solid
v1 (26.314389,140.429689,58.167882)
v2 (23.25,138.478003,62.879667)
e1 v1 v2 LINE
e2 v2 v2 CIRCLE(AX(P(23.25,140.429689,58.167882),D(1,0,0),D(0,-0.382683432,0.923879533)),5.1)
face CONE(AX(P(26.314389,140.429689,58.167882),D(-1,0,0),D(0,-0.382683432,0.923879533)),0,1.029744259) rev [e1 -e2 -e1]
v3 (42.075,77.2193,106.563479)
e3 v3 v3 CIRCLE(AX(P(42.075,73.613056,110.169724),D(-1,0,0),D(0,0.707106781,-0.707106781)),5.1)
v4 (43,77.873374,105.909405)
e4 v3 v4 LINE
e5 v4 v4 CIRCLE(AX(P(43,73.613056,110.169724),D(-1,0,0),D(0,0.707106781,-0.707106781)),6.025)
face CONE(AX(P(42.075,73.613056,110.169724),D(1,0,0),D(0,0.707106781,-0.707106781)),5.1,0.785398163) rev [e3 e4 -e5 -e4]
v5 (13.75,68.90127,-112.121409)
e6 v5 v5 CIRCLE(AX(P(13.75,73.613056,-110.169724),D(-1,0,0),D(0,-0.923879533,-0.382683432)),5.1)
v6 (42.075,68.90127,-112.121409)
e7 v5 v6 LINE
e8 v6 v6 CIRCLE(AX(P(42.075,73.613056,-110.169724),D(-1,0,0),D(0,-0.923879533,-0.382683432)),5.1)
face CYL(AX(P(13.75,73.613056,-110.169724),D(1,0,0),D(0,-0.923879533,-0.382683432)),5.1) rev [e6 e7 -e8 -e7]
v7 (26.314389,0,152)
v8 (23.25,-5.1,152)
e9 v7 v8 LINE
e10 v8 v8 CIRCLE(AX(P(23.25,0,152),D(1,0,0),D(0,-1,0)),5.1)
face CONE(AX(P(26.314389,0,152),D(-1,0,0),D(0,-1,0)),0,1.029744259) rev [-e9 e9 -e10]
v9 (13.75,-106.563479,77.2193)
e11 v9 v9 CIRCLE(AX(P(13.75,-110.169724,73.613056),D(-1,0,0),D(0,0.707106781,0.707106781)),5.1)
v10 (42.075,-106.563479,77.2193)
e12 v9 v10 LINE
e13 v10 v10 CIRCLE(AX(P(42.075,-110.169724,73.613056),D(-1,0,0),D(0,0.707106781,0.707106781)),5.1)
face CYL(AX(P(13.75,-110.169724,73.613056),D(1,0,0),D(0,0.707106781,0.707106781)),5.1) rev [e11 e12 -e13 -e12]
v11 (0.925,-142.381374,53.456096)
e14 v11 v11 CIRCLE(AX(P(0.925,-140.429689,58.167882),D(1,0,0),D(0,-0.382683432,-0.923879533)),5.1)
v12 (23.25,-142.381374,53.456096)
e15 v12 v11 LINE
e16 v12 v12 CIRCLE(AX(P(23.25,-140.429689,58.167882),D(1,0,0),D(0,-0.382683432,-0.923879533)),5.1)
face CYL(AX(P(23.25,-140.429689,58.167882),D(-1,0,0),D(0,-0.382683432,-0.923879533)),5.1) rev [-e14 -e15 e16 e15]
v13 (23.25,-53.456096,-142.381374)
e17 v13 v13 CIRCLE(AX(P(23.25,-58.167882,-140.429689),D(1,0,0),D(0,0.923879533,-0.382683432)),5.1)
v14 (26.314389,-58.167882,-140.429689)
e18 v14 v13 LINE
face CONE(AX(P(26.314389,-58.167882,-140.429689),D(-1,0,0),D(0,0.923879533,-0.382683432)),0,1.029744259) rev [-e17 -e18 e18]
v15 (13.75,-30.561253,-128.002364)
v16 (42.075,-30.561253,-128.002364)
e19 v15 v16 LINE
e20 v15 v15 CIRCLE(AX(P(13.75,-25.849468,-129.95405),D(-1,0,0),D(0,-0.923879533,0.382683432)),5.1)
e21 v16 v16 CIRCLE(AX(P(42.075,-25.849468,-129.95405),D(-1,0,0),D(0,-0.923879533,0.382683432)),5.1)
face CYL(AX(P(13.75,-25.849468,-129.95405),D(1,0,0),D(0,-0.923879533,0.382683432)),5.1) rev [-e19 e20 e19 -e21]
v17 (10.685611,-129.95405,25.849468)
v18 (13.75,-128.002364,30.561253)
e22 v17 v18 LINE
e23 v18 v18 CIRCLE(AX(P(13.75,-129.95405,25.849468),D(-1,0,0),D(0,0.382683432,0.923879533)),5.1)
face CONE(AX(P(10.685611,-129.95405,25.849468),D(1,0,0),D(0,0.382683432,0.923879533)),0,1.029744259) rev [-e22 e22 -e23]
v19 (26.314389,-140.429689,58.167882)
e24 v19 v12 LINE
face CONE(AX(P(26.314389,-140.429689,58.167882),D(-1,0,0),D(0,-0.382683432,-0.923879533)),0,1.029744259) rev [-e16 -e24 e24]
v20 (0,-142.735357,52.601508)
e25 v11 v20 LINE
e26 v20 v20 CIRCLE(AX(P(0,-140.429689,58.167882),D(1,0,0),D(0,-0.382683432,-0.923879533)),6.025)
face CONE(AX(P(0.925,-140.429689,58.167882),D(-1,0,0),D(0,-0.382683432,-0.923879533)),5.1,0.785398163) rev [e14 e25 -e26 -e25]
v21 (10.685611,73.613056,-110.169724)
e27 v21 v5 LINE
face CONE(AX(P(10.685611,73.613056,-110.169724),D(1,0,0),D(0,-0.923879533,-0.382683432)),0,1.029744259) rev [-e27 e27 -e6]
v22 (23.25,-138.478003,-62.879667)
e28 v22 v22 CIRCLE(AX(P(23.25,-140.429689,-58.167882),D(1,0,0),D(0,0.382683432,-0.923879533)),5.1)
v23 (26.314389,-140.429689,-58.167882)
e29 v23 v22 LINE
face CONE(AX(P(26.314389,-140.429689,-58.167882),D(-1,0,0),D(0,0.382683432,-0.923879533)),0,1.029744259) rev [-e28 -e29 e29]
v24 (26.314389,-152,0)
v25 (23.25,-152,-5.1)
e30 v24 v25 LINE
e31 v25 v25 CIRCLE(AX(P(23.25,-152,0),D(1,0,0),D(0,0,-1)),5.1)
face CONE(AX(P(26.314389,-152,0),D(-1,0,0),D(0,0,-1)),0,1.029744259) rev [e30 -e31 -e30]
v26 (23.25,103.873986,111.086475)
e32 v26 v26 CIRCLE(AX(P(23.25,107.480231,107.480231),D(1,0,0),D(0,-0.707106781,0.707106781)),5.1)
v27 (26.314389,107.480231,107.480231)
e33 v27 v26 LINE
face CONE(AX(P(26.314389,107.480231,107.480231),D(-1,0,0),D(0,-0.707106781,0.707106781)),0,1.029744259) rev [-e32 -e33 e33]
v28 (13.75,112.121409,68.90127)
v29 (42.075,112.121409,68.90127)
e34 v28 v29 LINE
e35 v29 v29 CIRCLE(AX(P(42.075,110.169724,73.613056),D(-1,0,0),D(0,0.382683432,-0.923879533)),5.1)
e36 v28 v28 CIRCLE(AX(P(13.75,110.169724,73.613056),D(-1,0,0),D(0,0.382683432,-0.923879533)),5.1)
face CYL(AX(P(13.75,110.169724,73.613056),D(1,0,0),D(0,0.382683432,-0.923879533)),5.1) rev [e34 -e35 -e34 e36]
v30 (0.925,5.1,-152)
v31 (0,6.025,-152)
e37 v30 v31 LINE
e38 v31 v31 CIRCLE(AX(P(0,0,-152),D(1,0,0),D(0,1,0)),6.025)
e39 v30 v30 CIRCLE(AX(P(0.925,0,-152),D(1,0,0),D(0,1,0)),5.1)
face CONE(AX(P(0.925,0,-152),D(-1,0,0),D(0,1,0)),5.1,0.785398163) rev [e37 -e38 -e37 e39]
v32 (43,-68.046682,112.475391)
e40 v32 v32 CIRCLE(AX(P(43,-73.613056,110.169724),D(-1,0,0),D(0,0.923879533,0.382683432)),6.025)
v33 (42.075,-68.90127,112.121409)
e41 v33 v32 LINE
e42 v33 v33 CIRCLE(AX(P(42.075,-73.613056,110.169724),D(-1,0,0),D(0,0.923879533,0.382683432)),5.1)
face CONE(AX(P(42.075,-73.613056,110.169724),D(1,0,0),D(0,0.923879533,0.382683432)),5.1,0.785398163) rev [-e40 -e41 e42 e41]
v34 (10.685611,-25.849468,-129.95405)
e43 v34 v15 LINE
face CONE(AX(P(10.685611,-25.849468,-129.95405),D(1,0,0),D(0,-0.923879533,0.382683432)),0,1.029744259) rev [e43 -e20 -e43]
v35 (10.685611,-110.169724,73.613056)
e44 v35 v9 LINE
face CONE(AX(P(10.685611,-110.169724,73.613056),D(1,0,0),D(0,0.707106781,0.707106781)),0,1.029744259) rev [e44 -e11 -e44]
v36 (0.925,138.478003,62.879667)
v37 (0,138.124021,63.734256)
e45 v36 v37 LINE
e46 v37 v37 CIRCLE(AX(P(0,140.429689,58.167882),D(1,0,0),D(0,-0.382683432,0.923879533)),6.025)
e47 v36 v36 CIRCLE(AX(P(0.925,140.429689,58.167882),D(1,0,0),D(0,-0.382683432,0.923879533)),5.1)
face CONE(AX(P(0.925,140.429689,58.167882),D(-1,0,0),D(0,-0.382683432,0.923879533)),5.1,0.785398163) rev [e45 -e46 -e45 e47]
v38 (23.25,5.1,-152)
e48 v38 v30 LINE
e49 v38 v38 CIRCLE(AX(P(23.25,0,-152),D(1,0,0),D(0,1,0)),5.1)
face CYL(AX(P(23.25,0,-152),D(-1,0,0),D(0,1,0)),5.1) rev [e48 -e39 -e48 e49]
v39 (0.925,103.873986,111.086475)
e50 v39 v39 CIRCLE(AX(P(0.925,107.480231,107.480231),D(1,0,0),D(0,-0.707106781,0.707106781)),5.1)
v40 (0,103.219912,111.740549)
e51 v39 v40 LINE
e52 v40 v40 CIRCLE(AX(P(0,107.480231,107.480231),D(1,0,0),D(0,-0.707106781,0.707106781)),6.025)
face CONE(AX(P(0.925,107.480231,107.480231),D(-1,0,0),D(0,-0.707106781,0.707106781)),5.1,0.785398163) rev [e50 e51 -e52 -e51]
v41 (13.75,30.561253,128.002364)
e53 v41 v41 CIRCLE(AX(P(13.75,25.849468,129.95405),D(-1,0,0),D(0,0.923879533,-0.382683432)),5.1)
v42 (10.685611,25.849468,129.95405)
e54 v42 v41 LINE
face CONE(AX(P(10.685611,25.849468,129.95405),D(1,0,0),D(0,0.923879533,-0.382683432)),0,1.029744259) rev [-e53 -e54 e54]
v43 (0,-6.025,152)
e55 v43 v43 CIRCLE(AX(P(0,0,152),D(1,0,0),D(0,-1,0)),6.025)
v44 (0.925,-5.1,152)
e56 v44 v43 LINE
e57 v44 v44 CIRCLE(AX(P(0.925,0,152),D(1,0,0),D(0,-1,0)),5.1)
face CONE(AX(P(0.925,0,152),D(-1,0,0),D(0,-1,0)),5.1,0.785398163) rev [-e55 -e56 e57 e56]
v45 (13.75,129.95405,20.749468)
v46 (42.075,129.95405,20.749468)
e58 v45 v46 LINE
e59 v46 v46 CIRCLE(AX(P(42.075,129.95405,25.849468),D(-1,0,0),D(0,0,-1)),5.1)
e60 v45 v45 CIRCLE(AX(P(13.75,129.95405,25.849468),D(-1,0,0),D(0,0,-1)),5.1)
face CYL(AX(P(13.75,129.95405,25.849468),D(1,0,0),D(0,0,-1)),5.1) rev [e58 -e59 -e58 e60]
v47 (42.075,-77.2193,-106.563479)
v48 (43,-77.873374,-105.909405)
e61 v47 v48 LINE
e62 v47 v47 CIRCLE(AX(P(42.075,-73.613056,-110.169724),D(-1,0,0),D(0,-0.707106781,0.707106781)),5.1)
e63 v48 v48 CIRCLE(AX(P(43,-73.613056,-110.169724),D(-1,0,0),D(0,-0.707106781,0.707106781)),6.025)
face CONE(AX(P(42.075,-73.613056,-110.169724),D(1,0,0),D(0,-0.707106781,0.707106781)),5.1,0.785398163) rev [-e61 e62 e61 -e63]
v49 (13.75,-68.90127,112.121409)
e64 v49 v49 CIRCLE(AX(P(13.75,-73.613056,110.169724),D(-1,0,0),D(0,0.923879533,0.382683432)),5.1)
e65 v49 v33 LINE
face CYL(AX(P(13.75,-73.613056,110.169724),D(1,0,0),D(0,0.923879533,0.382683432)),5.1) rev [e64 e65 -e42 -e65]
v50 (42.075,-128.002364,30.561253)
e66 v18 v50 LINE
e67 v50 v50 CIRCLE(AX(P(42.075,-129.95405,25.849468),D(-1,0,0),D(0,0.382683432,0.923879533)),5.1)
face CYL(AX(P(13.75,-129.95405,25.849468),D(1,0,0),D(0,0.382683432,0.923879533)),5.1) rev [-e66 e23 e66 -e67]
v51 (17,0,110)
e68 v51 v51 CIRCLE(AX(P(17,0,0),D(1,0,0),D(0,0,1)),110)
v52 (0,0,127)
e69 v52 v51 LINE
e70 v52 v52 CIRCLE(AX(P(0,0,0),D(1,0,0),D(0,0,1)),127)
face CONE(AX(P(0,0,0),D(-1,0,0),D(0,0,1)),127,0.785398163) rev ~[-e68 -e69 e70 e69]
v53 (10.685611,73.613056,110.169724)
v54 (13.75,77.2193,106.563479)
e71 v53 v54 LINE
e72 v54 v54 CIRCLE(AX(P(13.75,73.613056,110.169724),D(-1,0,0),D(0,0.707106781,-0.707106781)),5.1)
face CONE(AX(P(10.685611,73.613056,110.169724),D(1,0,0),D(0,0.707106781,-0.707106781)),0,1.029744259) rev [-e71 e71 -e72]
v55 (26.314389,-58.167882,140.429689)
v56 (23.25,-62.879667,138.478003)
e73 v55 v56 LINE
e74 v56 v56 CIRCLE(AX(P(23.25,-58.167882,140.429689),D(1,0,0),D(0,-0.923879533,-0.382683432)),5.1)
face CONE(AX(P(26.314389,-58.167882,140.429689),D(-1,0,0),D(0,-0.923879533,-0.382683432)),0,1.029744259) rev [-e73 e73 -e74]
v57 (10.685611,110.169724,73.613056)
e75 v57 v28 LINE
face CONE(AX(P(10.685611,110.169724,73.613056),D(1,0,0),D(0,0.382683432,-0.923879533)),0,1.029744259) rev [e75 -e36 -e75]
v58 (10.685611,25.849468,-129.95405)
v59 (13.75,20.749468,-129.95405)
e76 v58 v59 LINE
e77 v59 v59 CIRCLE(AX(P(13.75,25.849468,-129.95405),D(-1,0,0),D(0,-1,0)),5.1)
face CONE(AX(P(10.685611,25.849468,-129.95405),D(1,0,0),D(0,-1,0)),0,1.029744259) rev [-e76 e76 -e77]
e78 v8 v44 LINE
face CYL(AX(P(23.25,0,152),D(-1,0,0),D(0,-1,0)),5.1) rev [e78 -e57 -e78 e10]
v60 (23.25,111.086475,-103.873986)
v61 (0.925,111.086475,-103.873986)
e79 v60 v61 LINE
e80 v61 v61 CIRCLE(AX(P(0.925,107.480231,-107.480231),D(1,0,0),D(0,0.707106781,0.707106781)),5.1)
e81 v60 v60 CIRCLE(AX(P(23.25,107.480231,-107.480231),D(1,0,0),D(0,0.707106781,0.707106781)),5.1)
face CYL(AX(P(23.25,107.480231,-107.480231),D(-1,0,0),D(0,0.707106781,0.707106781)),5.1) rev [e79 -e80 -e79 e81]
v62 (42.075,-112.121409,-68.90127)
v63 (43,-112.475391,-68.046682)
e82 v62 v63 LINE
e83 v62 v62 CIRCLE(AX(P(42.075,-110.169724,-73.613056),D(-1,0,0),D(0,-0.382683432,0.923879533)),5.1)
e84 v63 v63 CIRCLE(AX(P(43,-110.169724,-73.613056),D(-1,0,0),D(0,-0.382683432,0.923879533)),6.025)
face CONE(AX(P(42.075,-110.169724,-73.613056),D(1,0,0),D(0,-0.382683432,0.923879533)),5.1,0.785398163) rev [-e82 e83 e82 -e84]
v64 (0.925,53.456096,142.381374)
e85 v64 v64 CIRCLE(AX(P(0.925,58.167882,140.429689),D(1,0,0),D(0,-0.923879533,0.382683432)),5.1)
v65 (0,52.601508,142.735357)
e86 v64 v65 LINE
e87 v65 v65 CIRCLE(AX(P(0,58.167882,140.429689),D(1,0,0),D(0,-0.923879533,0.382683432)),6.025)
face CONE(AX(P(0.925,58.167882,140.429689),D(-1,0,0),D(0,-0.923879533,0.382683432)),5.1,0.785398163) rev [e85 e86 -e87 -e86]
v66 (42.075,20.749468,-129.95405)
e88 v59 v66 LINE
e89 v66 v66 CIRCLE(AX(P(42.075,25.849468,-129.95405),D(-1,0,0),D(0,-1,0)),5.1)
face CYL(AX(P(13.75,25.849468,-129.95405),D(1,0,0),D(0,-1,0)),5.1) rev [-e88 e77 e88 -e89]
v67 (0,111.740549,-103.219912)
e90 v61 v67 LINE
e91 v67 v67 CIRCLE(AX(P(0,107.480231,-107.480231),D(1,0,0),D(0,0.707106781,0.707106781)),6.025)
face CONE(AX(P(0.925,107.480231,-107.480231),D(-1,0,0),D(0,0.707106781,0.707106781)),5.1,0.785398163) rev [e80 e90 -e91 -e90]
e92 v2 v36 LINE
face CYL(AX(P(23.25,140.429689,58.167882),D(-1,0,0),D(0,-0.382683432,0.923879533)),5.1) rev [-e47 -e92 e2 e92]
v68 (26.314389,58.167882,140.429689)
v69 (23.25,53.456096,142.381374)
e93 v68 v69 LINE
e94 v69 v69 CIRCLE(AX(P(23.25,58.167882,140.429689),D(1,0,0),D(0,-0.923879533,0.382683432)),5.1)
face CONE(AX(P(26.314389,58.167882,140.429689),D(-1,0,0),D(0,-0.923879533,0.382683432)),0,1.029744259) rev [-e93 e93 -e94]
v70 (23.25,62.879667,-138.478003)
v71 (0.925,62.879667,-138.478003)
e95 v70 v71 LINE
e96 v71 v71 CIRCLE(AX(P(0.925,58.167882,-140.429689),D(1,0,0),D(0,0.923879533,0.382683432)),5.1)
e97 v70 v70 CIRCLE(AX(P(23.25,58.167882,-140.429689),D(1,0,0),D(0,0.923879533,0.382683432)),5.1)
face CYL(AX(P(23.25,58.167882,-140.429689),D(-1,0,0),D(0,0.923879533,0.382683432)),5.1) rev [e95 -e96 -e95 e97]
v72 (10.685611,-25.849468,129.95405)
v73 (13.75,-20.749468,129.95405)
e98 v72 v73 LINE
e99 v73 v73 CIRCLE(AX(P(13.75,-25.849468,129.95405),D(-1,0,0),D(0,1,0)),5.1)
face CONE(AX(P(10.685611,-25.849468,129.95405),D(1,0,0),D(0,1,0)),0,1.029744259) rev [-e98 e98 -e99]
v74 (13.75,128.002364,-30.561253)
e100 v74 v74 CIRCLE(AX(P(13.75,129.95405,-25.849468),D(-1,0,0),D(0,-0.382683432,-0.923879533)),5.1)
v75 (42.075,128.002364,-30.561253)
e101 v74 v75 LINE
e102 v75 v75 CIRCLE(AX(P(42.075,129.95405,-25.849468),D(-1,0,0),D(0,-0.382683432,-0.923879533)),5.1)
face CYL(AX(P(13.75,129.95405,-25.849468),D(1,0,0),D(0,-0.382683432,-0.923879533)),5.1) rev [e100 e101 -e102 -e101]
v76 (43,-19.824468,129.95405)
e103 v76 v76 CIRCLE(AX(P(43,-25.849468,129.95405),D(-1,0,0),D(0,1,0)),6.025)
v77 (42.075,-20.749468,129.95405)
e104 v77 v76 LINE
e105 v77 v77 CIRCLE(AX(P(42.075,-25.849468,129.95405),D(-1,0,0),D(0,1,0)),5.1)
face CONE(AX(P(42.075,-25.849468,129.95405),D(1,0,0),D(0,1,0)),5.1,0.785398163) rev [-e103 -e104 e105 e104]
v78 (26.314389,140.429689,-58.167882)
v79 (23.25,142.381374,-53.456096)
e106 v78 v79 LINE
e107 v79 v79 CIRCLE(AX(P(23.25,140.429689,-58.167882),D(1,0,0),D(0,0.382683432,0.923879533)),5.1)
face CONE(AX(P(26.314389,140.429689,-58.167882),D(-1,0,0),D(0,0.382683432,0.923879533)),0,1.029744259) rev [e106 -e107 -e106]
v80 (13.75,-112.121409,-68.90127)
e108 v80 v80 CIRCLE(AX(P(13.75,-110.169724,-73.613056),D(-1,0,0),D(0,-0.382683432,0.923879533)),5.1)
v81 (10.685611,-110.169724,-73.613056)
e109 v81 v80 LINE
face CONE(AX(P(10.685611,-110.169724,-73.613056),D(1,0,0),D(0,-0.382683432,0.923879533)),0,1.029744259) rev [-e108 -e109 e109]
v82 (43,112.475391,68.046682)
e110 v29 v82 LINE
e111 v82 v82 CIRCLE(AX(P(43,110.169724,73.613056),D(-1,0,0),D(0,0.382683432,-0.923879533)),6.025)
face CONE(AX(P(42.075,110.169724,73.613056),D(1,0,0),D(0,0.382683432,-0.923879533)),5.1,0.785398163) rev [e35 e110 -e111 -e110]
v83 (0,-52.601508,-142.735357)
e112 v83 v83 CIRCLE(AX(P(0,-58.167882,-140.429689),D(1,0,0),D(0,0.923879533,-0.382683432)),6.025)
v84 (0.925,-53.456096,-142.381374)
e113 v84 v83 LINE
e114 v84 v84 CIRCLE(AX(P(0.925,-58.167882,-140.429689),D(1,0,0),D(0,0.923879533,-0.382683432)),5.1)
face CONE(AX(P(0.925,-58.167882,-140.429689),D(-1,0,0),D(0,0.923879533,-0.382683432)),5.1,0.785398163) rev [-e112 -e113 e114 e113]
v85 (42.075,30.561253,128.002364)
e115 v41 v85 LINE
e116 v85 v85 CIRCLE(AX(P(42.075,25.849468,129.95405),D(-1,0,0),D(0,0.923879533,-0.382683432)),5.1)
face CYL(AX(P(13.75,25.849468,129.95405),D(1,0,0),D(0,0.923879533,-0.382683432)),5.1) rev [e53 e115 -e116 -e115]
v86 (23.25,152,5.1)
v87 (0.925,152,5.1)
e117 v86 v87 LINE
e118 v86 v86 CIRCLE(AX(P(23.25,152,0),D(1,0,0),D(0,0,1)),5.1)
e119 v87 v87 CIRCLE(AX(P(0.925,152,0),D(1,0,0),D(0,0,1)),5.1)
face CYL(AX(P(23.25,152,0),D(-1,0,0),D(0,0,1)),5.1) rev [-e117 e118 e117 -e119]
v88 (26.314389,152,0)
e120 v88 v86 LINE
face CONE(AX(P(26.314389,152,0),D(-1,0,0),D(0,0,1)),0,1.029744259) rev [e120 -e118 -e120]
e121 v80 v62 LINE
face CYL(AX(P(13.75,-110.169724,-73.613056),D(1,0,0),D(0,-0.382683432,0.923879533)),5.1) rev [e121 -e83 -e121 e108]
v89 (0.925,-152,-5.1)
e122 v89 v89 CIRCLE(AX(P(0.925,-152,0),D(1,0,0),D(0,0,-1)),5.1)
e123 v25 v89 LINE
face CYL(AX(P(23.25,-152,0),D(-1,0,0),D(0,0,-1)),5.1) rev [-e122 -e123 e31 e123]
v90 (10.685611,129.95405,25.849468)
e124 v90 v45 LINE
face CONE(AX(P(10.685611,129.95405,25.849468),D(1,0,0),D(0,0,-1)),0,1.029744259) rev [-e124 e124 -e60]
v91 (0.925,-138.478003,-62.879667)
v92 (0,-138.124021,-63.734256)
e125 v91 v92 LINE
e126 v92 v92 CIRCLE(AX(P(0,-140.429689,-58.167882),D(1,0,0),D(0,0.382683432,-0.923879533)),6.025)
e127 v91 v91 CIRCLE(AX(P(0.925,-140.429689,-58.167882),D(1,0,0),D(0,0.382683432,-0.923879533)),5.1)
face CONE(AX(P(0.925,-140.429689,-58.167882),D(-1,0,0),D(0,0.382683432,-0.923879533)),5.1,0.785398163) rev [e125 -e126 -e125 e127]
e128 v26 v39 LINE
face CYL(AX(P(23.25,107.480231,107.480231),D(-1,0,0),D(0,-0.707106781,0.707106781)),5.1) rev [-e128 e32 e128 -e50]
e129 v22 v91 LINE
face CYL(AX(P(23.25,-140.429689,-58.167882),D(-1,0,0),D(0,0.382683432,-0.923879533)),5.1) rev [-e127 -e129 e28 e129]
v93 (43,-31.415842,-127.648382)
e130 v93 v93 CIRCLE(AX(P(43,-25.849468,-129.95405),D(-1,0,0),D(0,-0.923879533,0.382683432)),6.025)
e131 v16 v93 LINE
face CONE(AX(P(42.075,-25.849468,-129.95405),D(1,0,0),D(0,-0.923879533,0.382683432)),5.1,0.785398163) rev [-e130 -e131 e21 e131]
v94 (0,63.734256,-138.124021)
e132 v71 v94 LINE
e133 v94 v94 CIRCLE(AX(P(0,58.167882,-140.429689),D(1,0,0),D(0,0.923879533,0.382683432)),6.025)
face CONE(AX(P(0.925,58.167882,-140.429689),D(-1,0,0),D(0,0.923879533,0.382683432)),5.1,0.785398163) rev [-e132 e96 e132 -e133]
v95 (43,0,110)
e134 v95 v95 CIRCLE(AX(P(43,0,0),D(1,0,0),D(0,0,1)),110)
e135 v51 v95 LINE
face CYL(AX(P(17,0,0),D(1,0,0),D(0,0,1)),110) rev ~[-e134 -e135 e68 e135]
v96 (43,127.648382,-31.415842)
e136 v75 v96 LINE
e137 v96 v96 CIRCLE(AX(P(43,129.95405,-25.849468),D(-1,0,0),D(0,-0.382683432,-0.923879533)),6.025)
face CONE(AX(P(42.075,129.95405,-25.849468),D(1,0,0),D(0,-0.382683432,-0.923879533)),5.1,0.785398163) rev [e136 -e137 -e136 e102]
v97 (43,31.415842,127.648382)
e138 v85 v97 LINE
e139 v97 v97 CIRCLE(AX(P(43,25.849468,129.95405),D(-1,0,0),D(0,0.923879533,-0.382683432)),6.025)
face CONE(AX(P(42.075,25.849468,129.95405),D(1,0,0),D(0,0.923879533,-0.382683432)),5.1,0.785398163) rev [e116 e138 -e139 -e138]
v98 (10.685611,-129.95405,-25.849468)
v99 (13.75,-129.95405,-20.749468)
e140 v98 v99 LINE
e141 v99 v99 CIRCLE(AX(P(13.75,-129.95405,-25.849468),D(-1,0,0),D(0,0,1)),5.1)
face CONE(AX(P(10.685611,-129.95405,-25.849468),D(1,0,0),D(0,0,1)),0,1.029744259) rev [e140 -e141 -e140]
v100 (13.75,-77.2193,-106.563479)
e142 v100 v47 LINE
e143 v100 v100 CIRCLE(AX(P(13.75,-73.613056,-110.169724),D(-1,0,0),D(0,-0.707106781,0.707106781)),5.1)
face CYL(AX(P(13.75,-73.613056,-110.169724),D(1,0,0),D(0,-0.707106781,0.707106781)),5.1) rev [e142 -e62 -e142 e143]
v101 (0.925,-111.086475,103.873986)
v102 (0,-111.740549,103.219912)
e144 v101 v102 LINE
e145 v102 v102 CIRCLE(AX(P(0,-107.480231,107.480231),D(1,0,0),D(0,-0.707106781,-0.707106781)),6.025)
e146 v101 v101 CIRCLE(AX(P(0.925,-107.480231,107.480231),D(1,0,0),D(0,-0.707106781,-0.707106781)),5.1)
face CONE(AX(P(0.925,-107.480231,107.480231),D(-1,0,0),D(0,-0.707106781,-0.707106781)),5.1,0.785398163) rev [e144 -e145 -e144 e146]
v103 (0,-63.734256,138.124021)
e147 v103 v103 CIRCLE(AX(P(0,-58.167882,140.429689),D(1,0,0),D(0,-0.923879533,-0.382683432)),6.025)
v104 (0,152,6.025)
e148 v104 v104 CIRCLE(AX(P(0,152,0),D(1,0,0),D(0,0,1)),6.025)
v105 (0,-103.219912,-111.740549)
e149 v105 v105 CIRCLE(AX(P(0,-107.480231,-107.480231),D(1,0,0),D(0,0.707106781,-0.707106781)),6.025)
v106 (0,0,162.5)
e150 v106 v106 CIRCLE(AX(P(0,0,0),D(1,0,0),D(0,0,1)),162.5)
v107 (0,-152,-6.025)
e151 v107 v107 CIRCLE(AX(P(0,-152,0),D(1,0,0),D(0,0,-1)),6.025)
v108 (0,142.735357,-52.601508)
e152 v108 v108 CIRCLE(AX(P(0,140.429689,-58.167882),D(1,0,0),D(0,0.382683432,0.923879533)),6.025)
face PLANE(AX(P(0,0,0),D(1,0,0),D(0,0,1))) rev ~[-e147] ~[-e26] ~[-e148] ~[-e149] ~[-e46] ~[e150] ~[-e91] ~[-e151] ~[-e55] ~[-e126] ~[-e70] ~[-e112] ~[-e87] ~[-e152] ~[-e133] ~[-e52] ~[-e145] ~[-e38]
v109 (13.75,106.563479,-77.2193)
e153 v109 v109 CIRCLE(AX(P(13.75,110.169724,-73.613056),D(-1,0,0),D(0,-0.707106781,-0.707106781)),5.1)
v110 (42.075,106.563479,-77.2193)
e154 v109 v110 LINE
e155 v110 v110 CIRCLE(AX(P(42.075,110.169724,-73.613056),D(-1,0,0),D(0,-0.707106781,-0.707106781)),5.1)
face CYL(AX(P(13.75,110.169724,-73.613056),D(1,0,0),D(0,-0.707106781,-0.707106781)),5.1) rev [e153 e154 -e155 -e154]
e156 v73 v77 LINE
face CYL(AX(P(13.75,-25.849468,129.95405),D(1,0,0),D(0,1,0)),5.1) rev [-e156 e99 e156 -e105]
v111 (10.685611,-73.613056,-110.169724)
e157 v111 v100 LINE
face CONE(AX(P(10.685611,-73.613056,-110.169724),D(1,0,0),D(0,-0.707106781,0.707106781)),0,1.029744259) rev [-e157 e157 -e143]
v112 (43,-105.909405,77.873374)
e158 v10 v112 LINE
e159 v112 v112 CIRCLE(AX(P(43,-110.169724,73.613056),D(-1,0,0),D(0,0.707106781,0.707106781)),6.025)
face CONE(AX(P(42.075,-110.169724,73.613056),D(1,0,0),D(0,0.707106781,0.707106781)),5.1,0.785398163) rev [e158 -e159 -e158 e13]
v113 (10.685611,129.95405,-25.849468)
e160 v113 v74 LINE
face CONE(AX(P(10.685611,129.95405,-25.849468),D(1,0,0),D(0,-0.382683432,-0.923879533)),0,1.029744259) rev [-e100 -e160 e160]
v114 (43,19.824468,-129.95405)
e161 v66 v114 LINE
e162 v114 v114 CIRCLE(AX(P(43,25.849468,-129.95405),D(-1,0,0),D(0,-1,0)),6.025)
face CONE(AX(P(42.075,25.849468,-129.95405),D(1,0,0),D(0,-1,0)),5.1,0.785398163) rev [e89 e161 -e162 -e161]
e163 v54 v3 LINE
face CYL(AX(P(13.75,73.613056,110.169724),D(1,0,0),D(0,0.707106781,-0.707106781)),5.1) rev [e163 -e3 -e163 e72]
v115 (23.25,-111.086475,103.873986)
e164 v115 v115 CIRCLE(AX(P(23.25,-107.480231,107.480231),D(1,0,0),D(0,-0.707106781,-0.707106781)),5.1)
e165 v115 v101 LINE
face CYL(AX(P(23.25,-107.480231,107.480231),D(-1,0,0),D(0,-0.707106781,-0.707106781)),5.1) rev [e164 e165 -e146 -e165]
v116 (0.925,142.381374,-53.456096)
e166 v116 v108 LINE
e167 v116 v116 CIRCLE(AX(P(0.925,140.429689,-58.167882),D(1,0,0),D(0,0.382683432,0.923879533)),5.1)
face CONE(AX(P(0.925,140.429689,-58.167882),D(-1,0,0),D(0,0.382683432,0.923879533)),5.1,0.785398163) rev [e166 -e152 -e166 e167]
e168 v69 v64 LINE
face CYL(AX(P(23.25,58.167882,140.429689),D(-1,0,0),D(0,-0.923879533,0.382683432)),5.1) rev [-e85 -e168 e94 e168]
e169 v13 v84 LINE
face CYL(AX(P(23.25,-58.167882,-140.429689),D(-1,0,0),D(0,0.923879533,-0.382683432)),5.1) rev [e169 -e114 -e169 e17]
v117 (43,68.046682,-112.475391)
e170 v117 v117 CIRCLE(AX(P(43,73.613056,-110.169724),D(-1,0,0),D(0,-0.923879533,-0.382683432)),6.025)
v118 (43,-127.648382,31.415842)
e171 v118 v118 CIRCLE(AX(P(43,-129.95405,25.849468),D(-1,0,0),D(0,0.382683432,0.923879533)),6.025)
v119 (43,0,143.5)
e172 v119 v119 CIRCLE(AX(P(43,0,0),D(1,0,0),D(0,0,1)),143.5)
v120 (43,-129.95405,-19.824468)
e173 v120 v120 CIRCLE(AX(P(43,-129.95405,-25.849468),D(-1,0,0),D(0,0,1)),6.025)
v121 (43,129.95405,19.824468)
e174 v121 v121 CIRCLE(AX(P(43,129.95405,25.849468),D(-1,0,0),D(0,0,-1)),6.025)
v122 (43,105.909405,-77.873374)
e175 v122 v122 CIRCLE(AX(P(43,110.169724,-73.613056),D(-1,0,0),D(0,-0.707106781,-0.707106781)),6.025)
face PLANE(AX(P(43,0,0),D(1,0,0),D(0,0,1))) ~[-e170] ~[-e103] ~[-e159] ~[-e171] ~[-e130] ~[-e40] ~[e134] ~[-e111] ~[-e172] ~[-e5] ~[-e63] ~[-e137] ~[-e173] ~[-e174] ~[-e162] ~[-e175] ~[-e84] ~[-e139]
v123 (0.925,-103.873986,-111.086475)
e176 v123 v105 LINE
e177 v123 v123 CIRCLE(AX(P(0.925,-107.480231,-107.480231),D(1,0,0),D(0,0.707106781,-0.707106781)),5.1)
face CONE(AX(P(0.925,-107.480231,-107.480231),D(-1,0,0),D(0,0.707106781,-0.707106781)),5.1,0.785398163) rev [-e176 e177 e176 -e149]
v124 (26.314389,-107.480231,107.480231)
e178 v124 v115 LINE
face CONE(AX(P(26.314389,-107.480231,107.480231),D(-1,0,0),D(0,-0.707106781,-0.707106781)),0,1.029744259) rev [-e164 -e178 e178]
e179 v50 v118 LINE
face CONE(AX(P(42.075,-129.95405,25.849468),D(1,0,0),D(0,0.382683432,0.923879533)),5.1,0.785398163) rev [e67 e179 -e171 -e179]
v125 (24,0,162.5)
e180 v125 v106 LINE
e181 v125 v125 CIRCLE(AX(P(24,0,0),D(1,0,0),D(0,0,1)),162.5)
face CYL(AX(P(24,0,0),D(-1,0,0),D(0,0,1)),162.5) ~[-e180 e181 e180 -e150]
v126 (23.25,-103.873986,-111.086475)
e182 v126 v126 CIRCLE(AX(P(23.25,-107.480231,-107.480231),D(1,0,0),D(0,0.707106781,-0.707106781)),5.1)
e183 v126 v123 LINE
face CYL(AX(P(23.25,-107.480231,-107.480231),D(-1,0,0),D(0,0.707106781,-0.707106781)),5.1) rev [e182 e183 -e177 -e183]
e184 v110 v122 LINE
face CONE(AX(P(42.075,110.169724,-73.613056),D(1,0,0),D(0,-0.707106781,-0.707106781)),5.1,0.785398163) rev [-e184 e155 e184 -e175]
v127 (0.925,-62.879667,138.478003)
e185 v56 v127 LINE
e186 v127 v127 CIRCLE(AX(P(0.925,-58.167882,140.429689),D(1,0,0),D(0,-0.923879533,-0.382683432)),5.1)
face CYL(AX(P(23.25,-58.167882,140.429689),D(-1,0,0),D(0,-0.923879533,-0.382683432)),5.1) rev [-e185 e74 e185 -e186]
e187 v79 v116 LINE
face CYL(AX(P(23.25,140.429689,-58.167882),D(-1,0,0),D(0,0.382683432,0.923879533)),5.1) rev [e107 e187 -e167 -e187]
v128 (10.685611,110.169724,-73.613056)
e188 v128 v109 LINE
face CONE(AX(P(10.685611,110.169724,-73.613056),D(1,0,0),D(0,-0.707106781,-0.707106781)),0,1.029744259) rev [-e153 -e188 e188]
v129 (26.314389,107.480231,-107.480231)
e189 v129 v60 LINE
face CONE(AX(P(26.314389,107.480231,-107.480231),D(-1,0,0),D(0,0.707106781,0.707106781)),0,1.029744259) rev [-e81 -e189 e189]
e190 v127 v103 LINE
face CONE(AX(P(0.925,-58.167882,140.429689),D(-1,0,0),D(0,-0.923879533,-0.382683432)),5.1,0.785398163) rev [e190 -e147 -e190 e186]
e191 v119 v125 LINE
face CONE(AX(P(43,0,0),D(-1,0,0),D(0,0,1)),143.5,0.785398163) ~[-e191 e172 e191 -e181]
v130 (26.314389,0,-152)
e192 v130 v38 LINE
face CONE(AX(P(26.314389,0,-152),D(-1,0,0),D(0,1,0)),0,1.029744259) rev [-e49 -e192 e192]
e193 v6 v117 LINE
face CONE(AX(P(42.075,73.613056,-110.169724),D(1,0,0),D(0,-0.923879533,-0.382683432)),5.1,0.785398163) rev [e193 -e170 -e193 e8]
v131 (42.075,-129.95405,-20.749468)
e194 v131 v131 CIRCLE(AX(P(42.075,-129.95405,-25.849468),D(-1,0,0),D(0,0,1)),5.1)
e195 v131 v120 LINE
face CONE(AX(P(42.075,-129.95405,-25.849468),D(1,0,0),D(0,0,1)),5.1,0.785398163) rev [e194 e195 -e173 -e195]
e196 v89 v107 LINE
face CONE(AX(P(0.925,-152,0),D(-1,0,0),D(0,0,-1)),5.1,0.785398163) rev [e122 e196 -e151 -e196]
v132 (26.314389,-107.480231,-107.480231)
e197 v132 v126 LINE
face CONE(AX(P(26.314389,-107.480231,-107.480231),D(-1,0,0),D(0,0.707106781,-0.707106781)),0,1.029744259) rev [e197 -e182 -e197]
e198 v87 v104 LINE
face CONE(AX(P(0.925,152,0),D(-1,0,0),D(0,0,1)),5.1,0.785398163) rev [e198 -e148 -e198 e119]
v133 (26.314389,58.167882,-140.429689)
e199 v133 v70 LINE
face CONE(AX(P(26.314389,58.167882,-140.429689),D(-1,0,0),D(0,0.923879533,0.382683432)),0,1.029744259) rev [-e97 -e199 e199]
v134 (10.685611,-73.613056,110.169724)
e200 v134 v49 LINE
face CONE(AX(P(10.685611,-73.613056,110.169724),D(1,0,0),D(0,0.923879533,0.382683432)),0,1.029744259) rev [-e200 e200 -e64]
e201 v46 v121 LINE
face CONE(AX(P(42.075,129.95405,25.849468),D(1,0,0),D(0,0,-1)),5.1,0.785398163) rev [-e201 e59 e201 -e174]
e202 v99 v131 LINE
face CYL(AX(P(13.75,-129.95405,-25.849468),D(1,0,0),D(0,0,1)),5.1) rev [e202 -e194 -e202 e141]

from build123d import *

# Parameters (mm, degrees)
CIRPATTERN1_COUNT = 16
CIRPATTERN2_COUNT = 16


with BuildPart() as part:
    # Sketch1 → Revolve1 (revolve)
    with BuildSketch(Plane.XY, mode=Mode.PRIVATE) as revolve1_sk:
        Polygon((0, 162.5), (0, 127), (17, 110), (43, 110), (43, 143.5), (24, 162.5), align=None)
    revolve(revolve1_sk.sketch.rotate(Axis((0, 0, 0), (1, 0, 0)), 90), axis=Axis((0, 0, 0), (1, 0, 0)))

    # Sketch4 → M12 Tapped Hole1 (revolve, cut)
    with BuildSketch(Plane.ZX.offset(152)):
        Polygon((0, 0), (0, 26.314389157), (5.1, 23.25), (5.1, 0.925), (6.025, 0), align=None)
    m12_tapped_hole1 = revolve(axis=Axis((-6.35, 152, 0), (1, 0, 0)), mode=Mode.SUBTRACT)

    # CirPattern1: M12 Tapped Hole1 ×16 about axis
    cirpattern1_axis = Axis((0, 0, 0), (1, 0, 0))
    for i in range(1, CIRPATTERN1_COUNT):
        add(m12_tapped_hole1.rotate(cirpattern1_axis, i * 360 / CIRPATTERN1_COUNT), mode=Mode.SUBTRACT)

    # Sketch6 → M12 Tapped Hole2 (revolve, cut)
    with BuildSketch(Plane(origin=(43, 129.954049653, 25.849467667), x_dir=(0, 0, -1), z_dir=(0, 1, 0))):
        Polygon((0, 0), (0, 32.314389157), (5.1, 29.25), (5.1, 0.925), (6.025, 0), align=None)
    m12_tapped_hole2 = revolve(axis=Axis((49.35, 129.954049653, 25.849467667), (-1, 0, 0)), mode=Mode.SUBTRACT)

    # CirPattern2: M12 Tapped Hole2 ×16 about axis
    cirpattern2_axis = Axis((0, 0, 0), (1, 0, 0))
    for i in range(1, CIRPATTERN2_COUNT):
        add(m12_tapped_hole2.rotate(cirpattern2_axis, i * 360 / CIRPATTERN2_COUNT), mode=Mode.SUBTRACT)


solid = part.part
